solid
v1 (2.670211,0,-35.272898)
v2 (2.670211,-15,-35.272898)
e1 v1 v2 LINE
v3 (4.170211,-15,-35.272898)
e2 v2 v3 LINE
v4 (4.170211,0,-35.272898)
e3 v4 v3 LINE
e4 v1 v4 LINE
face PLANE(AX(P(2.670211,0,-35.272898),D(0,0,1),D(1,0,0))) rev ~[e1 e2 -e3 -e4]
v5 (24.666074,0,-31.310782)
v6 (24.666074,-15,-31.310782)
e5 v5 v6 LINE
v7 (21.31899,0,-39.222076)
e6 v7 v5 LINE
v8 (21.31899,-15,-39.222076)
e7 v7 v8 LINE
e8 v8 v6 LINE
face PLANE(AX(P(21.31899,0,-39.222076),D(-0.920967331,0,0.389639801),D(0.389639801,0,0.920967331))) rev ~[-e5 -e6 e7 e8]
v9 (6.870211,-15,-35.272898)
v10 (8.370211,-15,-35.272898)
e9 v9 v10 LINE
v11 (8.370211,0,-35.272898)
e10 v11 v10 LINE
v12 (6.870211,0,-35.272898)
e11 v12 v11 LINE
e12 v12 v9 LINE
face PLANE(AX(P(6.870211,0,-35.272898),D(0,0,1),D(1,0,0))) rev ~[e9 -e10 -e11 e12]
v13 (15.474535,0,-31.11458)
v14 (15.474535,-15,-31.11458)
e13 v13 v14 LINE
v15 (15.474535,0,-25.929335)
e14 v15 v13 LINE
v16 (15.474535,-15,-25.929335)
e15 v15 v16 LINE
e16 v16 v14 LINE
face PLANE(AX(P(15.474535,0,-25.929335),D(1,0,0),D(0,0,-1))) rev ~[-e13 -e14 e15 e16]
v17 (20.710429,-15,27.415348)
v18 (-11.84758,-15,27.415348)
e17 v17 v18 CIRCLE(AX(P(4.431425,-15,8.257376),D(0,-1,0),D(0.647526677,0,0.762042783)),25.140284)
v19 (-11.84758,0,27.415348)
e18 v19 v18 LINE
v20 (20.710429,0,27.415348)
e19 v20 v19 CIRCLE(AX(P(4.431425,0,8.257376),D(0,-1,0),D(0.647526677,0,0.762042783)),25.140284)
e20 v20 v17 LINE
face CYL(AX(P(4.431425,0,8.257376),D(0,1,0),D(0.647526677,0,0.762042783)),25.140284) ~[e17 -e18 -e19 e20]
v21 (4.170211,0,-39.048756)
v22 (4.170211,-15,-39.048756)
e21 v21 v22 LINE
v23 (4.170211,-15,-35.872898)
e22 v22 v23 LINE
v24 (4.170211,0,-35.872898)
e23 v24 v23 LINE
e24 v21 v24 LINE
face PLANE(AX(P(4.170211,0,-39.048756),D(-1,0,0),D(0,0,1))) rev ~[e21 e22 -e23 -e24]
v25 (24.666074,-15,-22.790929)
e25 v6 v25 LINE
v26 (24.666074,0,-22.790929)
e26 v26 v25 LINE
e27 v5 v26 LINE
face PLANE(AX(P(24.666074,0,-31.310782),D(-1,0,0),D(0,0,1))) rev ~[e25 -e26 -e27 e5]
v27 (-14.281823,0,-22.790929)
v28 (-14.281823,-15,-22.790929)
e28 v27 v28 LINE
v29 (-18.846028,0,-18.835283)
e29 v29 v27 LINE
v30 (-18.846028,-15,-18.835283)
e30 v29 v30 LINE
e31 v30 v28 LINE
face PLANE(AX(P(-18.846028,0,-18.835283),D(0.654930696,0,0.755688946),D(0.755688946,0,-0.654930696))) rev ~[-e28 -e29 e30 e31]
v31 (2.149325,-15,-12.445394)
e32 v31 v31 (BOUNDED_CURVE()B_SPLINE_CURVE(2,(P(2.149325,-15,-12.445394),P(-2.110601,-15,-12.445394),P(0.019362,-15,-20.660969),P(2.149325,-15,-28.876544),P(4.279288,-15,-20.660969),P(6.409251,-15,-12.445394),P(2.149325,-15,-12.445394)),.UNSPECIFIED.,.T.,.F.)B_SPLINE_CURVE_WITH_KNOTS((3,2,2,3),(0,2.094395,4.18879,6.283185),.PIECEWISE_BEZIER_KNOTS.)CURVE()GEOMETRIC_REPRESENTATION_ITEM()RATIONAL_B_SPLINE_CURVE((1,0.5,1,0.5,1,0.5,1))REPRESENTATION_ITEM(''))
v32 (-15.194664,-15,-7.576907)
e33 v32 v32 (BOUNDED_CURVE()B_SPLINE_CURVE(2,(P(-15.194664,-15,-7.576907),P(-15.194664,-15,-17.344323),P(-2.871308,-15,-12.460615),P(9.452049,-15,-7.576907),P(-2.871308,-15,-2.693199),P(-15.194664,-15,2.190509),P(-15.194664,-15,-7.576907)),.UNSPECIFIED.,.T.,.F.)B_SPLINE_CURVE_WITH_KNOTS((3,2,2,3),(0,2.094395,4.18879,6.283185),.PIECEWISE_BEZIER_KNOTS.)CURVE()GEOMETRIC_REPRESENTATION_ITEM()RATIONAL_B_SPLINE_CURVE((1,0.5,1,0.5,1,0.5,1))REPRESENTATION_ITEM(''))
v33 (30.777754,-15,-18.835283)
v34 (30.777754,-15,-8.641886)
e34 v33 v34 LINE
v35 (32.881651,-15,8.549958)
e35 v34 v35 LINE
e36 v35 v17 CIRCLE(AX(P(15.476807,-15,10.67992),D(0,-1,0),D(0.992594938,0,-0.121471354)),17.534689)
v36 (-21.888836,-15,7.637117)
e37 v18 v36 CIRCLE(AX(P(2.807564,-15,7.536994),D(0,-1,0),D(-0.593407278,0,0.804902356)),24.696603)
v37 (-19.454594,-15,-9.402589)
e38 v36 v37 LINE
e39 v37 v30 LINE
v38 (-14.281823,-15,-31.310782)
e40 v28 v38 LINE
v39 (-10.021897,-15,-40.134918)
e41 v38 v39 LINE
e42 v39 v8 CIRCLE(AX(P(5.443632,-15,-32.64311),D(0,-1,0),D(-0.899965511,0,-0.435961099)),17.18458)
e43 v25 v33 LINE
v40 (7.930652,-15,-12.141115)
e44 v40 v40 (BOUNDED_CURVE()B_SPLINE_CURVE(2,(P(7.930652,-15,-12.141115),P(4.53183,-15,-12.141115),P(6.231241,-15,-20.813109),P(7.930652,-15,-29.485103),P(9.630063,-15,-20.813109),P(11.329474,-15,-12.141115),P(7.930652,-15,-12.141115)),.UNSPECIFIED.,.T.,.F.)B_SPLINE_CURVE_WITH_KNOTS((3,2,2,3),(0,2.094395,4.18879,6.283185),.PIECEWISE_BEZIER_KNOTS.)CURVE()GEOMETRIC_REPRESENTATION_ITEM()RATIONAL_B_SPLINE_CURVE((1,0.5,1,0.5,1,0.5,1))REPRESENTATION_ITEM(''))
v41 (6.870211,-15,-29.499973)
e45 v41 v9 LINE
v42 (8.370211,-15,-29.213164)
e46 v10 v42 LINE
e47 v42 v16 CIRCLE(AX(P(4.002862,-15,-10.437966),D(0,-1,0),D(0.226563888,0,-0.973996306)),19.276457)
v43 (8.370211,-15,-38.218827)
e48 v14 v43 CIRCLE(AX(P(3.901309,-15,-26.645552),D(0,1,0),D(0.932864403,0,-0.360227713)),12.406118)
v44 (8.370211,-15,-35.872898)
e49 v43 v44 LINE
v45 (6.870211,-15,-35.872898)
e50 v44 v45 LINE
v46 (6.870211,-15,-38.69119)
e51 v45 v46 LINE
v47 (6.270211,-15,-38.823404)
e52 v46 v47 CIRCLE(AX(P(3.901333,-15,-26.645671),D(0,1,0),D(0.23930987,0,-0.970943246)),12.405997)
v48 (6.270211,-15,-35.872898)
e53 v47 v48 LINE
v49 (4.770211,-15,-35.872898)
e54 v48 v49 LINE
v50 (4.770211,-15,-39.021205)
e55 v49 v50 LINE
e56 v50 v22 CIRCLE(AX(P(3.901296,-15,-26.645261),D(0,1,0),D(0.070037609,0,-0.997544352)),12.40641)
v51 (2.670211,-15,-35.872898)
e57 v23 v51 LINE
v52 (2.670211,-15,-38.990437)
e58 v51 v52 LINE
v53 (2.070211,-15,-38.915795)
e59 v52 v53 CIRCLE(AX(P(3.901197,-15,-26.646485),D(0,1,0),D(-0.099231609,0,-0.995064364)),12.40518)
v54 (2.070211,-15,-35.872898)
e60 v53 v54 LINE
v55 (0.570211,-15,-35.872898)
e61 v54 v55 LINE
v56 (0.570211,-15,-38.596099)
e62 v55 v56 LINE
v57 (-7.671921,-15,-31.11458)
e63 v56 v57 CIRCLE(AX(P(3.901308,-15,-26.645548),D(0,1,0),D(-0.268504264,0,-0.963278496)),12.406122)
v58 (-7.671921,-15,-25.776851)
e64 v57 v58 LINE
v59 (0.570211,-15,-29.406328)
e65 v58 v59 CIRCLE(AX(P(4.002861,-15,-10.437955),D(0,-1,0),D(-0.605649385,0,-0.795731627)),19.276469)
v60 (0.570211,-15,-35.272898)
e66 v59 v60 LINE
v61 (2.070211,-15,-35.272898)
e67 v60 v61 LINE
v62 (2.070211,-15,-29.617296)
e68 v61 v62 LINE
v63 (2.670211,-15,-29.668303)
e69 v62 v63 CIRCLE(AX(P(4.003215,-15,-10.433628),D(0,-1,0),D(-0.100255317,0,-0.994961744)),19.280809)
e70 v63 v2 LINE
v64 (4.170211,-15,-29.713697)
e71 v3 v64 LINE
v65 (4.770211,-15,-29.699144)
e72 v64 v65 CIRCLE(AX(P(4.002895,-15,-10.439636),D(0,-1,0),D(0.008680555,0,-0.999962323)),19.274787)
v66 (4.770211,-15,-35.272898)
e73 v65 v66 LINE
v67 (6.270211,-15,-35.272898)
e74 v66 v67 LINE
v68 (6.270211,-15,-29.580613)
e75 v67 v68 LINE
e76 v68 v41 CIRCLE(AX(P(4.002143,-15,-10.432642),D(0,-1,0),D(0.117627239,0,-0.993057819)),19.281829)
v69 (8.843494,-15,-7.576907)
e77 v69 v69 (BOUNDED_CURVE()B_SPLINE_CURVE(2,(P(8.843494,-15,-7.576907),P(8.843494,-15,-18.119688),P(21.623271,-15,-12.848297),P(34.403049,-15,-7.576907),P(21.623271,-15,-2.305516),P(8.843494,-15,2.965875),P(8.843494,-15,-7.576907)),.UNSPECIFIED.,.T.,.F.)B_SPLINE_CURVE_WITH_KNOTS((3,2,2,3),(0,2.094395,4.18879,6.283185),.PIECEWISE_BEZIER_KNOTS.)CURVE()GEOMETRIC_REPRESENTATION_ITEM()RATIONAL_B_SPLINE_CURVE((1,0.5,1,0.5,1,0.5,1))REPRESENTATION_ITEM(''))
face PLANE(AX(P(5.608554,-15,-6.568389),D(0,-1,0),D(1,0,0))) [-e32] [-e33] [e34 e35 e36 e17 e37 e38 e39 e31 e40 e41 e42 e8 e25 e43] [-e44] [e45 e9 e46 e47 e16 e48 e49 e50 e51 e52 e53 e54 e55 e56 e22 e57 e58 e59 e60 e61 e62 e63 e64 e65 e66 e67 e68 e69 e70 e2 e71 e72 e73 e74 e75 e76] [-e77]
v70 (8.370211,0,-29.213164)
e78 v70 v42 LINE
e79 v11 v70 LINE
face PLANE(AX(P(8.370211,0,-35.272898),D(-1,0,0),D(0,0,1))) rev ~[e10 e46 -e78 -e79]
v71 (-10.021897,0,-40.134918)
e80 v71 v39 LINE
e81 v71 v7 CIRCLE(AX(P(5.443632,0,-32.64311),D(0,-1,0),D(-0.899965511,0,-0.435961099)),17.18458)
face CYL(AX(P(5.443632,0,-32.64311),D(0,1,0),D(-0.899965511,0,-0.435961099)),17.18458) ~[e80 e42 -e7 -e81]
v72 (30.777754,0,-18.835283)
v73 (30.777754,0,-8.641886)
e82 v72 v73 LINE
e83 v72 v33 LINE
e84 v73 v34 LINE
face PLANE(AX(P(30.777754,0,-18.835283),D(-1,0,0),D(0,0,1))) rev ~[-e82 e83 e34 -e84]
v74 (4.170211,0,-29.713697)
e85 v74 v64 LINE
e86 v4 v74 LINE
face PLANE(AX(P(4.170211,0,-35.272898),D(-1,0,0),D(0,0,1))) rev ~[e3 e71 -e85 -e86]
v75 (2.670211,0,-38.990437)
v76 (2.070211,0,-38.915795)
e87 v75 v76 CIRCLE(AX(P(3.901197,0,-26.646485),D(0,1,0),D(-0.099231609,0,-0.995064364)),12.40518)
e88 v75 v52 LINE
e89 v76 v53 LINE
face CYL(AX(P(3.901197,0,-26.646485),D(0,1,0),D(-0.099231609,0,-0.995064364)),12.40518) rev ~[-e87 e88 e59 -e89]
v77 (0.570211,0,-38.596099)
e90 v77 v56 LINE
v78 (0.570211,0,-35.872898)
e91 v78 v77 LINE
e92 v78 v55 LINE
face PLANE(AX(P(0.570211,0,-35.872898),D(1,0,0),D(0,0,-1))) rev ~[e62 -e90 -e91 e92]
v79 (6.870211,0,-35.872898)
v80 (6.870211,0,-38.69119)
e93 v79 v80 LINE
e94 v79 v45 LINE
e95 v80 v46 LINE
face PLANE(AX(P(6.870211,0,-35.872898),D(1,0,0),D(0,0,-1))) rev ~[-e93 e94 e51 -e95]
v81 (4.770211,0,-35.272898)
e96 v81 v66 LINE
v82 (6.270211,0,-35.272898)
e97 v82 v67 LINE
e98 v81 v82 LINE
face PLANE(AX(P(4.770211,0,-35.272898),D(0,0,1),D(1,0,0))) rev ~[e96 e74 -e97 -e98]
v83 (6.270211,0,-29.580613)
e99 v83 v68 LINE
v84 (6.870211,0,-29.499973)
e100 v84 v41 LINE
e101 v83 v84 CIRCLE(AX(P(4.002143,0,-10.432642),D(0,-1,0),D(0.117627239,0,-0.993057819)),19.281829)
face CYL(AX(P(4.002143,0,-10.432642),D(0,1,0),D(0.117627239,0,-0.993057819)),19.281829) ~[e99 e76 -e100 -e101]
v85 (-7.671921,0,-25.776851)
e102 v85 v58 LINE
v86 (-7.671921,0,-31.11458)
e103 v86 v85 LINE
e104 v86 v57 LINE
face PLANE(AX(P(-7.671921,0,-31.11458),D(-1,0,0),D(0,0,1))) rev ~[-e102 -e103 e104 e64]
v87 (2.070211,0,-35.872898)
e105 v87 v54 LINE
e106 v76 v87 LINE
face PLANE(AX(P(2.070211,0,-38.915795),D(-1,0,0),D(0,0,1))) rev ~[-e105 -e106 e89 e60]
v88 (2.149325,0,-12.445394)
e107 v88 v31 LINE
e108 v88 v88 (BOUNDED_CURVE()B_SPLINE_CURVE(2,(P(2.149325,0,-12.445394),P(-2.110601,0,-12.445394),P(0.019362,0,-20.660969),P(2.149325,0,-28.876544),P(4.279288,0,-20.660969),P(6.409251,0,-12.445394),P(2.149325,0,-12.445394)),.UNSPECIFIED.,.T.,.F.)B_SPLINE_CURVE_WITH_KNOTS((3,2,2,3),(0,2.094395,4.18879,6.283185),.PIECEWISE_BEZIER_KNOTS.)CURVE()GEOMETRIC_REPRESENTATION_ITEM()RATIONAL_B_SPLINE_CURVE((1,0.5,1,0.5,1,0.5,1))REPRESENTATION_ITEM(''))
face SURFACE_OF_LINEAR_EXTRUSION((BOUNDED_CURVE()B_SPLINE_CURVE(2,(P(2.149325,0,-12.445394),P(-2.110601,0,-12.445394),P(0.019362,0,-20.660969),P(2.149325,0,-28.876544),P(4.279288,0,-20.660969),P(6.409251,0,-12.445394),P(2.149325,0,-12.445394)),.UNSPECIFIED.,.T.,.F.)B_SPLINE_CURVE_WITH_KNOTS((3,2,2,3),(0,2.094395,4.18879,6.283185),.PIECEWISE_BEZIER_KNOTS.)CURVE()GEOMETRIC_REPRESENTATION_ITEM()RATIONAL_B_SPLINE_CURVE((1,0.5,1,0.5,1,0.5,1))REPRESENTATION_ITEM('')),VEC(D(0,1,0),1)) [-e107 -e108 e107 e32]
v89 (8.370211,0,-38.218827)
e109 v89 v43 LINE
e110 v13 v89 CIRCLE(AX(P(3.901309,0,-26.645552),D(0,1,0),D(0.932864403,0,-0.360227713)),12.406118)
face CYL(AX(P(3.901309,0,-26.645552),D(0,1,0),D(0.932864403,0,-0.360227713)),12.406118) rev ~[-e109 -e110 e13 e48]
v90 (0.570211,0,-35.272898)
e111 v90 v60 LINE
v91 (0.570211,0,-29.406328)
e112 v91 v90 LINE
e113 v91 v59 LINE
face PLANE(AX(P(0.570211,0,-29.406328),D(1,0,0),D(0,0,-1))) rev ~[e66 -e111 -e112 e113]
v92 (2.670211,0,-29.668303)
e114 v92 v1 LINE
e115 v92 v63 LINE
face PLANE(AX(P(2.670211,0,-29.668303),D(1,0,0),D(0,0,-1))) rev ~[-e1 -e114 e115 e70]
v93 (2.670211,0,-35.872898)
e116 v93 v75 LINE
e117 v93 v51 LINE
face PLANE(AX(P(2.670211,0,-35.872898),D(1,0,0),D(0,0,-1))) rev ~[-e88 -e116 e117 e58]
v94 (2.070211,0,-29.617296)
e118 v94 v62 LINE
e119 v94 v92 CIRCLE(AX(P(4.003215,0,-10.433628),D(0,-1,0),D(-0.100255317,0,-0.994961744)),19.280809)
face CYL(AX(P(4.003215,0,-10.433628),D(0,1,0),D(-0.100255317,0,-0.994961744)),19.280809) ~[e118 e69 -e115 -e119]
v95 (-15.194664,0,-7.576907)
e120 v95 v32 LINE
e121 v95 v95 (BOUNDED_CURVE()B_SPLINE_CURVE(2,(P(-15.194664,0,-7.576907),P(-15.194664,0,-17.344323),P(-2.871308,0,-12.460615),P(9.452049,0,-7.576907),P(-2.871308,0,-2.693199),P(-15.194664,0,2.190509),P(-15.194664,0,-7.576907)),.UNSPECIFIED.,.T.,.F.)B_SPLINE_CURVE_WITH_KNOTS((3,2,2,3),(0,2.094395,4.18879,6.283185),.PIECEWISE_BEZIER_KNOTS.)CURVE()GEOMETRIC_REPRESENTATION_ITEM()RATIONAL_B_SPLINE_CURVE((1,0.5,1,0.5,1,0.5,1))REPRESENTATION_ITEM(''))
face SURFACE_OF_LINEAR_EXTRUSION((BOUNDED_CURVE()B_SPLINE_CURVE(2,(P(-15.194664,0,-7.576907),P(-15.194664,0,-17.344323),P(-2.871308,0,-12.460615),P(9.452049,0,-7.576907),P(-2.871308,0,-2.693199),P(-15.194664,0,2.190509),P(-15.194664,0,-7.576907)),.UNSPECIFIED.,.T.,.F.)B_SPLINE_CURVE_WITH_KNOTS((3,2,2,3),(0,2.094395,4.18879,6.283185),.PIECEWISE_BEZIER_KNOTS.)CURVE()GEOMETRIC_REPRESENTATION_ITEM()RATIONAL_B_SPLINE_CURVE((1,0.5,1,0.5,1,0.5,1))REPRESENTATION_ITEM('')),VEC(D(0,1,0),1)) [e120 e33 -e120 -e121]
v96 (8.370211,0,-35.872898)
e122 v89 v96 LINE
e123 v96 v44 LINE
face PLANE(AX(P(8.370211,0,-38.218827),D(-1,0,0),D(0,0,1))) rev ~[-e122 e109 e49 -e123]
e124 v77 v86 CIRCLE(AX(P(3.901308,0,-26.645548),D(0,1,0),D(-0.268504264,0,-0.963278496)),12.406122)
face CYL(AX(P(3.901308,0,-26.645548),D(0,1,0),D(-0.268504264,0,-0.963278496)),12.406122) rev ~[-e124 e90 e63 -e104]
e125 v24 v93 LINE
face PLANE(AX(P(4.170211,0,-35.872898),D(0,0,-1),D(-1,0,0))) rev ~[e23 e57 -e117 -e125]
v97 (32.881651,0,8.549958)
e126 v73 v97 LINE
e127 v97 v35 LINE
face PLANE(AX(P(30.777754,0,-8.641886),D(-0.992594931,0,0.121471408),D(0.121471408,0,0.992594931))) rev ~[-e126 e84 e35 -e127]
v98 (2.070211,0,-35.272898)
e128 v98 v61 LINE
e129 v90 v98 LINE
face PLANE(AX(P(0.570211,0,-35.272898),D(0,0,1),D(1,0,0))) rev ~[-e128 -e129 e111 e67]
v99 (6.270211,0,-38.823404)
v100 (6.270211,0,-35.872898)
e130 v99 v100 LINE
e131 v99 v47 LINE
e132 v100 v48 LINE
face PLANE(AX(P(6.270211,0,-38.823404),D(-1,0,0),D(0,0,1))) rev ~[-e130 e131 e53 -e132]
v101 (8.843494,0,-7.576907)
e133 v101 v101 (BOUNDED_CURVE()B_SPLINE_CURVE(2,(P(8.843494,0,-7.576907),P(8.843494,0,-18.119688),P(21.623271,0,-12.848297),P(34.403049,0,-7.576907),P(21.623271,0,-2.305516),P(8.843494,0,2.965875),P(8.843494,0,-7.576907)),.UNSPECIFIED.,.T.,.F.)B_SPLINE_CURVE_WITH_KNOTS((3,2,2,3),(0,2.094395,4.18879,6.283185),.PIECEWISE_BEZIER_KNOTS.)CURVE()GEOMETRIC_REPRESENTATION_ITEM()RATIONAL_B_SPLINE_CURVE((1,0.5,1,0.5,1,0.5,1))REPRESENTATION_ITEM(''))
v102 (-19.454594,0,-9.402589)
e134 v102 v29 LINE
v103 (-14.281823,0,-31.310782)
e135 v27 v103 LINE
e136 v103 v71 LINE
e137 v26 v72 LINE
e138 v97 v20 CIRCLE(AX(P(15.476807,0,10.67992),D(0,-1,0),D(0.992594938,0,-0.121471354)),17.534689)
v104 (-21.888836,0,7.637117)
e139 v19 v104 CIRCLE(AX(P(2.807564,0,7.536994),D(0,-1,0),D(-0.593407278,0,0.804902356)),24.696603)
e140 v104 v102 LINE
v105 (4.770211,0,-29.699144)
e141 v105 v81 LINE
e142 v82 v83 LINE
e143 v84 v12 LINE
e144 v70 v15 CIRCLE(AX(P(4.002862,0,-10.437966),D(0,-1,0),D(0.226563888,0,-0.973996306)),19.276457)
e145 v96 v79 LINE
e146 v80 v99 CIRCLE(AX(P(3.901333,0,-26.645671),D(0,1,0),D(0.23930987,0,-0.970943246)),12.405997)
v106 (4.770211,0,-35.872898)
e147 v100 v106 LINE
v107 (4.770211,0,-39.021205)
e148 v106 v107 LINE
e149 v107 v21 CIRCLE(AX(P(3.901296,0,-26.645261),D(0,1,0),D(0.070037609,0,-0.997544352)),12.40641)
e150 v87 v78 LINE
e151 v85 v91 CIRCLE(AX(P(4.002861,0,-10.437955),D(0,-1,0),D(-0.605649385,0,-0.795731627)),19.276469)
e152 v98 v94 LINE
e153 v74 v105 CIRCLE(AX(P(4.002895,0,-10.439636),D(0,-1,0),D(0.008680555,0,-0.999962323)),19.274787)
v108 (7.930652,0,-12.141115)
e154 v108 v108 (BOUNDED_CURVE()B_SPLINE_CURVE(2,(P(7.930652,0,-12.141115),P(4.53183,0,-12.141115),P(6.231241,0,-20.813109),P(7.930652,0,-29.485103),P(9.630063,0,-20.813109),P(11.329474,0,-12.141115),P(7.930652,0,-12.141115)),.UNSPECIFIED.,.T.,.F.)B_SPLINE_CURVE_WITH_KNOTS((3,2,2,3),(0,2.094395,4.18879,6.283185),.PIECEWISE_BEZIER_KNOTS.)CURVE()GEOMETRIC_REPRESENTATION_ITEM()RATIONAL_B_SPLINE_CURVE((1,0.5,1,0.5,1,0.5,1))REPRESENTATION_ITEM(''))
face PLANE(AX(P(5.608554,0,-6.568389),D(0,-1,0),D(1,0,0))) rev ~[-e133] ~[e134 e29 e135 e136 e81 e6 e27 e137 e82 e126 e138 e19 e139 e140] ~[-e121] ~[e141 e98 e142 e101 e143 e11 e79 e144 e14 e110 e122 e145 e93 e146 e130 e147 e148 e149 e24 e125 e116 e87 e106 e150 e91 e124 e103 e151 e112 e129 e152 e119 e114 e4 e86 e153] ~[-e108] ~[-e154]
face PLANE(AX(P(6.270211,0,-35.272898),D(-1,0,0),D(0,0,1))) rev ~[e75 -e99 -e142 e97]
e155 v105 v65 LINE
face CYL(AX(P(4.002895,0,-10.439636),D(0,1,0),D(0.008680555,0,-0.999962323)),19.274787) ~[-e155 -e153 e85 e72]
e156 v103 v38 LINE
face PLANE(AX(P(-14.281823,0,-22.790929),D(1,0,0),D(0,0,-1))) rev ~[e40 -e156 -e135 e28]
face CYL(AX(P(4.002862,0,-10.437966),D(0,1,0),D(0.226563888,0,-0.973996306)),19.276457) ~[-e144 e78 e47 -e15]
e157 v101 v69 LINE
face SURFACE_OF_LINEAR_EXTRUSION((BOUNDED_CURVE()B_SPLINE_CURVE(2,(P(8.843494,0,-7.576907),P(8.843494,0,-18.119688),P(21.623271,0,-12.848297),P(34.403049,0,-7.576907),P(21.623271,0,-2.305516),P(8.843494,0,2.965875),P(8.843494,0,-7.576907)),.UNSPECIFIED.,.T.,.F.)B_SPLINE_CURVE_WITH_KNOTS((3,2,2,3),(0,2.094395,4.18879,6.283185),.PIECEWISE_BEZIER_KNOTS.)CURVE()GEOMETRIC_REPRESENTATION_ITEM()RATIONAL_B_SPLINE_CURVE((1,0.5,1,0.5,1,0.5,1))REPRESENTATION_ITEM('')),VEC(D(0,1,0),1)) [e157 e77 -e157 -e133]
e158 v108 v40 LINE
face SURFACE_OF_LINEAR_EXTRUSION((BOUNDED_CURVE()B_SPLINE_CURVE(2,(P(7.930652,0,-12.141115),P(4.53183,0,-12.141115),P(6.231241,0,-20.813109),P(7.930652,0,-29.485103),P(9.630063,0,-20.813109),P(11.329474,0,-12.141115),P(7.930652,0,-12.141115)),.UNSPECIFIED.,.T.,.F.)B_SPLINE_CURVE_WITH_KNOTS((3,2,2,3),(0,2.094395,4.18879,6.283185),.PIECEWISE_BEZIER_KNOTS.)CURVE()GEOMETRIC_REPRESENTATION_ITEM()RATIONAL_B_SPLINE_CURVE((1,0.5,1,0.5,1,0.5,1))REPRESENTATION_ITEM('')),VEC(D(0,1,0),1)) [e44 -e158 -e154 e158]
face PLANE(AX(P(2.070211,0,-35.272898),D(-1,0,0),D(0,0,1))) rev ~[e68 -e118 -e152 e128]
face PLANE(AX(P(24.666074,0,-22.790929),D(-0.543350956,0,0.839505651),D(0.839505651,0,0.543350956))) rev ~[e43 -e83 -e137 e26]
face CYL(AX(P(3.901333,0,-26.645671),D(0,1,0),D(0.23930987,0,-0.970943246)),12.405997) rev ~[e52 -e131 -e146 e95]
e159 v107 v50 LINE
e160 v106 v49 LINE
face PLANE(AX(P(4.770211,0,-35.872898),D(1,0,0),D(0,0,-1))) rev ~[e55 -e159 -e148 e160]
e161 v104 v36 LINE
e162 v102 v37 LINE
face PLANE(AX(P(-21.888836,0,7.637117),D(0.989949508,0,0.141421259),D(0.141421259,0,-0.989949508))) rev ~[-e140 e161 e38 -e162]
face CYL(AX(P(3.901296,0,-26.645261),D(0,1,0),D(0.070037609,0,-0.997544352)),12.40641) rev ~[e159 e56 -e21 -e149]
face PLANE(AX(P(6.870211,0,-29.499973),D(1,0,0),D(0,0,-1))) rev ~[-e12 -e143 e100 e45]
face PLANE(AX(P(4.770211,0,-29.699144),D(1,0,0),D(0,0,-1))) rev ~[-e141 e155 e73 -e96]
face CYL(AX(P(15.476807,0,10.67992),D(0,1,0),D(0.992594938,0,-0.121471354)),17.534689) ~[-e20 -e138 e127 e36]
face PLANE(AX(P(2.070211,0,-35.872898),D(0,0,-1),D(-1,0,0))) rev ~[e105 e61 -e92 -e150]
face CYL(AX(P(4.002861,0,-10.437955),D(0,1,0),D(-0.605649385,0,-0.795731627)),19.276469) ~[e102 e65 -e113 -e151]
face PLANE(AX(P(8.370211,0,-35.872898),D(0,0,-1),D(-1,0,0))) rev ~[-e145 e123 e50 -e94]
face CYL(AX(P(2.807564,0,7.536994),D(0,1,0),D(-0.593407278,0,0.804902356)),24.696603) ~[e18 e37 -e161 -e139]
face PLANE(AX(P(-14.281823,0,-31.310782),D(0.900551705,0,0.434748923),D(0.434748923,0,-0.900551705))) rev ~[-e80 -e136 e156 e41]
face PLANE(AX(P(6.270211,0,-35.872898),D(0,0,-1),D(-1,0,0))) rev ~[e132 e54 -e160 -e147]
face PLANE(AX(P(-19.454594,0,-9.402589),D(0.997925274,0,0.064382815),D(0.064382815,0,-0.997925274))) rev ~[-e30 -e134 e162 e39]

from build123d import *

# Parameters (mm, degrees)
F1_DEPTH = 15


with BuildPart() as f1:
    # F0 (on Front) → F1 (new body)
    with BuildSketch(Plane.XZ):
        with BuildLine():
            ThreePointArc((20.710429, 27.415348), (4.431425, 33.39766), (-11.84758, 27.415348))
            ThreePointArc((-11.84758, 27.415348), (-19.213576, 18.716958), (-21.888836, 7.637117))
            Line((-21.888836, 7.637117), (-19.454594, -9.402589))
            Line((-19.454594, -9.402589), (-18.846028, -18.835283))
            Line((-18.846028, -18.835283), (-14.281823, -22.790929))
            Line((-14.281823, -22.790929), (-14.281823, -31.310782))
            Line((-14.281823, -31.310782), (-10.021897, -40.134918))
            ThreePointArc((-10.021897, -40.134918), (5.943942, -49.820405), (21.31899, -39.222076))
            Line((21.31899, -39.222076), (24.666074, -31.310782))
            Line((24.666074, -31.310782), (24.666074, -22.790929))
            Line((24.666074, -22.790929), (30.777754, -18.835283))
            Line((30.777754, -18.835283), (30.777754, -8.641886))
            Line((30.777754, -8.641886), (32.881651, 8.549958))
            ThreePointArc((32.881651, 8.549958), (30.211147, 20.185948), (20.710429, 27.415348))
        make_face()
        with BuildLine():
            Line((-7.671921, -31.11458), (-7.671921, -25.776851))
            ThreePointArc((-7.671921, -25.776851), (-3.765788, -28.079677), (0.570211, -29.406328))
            ThreePointArc((0.570211, -29.406328), (1.318138, -29.526551), (2.070211, -29.617296))
            ThreePointArc((2.070211, -29.617296), (2.370012, -29.645142), (2.670211, -29.668303))
            ThreePointArc((2.670211, -29.668303), (3.419769, -29.705602), (4.170211, -29.713697))
            ThreePointArc((4.170211, -29.713697), (4.470267, -29.708756), (4.770211, -29.699144))
            ThreePointArc((4.770211, -29.699144), (5.521368, -29.65452), (6.270211, -29.580613))
            ThreePointArc((6.270211, -29.580613), (6.570527, -29.542648), (6.870211, -29.499973))
            ThreePointArc((6.870211, -29.499973), (7.623052, -29.371429), (8.370211, -29.213164))
            ThreePointArc((8.370211, -29.213164), (12.090787, -27.935602), (15.474535, -25.929335))
            Line((15.474535, -25.929335), (15.474535, -31.11458))
            ThreePointArc((15.474535, -31.11458), (12.673712, -35.41805), (8.370211, -38.218827))
            ThreePointArc((8.370211, -38.218827), (7.627703, -38.4788), (6.870211, -38.69119))
            ThreePointArc((6.870211, -38.69119), (6.571029, -38.761012), (6.270211, -38.823404))
            ThreePointArc((6.270211, -38.823404), (5.523229, -38.945192), (4.770211, -39.021205))
            ThreePointArc((4.770211, -39.021205), (4.470378, -39.038612), (4.170211, -39.048756))
            ThreePointArc((4.170211, -39.048756), (3.419328, -39.042305), (2.670211, -38.990437))
            ThreePointArc((2.670211, -38.990437), (2.369756, -38.956772), (2.070211, -38.915795))
            ThreePointArc((2.070211, -38.915795), (1.315266, -38.779149), (0.570211, -38.596099))
            ThreePointArc((0.570211, -38.596099), (-4.437038, -35.831617), (-7.671921, -31.11458))
        make_face(mode=Mode.SUBTRACT)
        with BuildLine():
            add(Edge.make_bspline(
                [(2.149325, -12.445394), (-2.110601, -12.445394), (0.019362, -20.660969), (2.149325, -28.876544), (4.279288, -20.660969), (6.409251, -12.445394), (2.149325, -12.445394)],
                knots=[0, 0, 0, 2.094395, 2.094395, 4.18879, 4.18879, 6.283185, 6.283185, 6.283185], degree=2, weights=[1, 0.5, 1, 0.5, 1, 0.5, 1]))
        make_face(mode=Mode.SUBTRACT)
        with BuildLine():
            add(Edge.make_bspline(
                [(7.930652, -12.141115), (4.53183, -12.141115), (6.231241, -20.813109), (7.930652, -29.485103), (9.630063, -20.813109), (11.329474, -12.141115), (7.930652, -12.141115)],
                knots=[0, 0, 0, 2.094395, 2.094395, 4.18879, 4.18879, 6.283185, 6.283185, 6.283185], degree=2, weights=[1, 0.5, 1, 0.5, 1, 0.5, 1]))
        make_face(mode=Mode.SUBTRACT)
        with BuildLine():
            add(Edge.make_bspline(
                [(-15.194664, -7.576907), (-15.194664, -17.344323), (-2.871308, -12.460615), (9.452049, -7.576907), (-2.871308, -2.693199), (-15.194664, 2.190509), (-15.194664, -7.576907)],
                knots=[0, 0, 0, 2.094395, 2.094395, 4.18879, 4.18879, 6.283185, 6.283185, 6.283185], degree=2, weights=[1, 0.5, 1, 0.5, 1, 0.5, 1]))
        make_face(mode=Mode.SUBTRACT)
        with BuildLine():
            add(Edge.make_bspline(
                [(8.843494, -7.576907), (8.843494, -18.119688), (21.623271, -12.848297), (34.403049, -7.576907), (21.623271, -2.305516), (8.843494, 2.965875), (8.843494, -7.576907)],
                knots=[0, 0, 0, 2.094395, 2.094395, 4.18879, 4.18879, 6.283185, 6.283185, 6.283185], degree=2, weights=[1, 0.5, 1, 0.5, 1, 0.5, 1]))
        make_face(mode=Mode.SUBTRACT)
        with BuildLine():
            ThreePointArc((2.070211, -29.617296), (1.318138, -29.526551), (0.570211, -29.406328))
            Line((0.570211, -29.406328), (0.570211, -35.272898))
            Line((0.570211, -35.272898), (2.070211, -35.272898))
            Line((2.070211, -35.272898), (2.070211, -29.617296))
        make_face()
        with BuildLine():
            ThreePointArc((4.170211, -29.713697), (3.419769, -29.705602), (2.670211, -29.668303))
            Line((2.670211, -29.668303), (2.670211, -35.272898))
            Line((2.670211, -35.272898), (4.170211, -35.272898))
            Line((4.170211, -35.272898), (4.170211, -29.713697))
        make_face()
        with BuildLine():
            ThreePointArc((6.270211, -29.580613), (5.521368, -29.65452), (4.770211, -29.699144))
            Line((4.770211, -29.699144), (4.770211, -35.272898))
            Line((4.770211, -35.272898), (6.270211, -35.272898))
            Line((6.270211, -35.272898), (6.270211, -29.580613))
        make_face()
        with BuildLine():
            ThreePointArc((8.370211, -29.213164), (7.623052, -29.371429), (6.870211, -29.499973))
            Line((6.870211, -29.499973), (6.870211, -35.272898))
            Line((6.870211, -35.272898), (8.370211, -35.272898))
            Line((8.370211, -35.272898), (8.370211, -29.213164))
        make_face()
        with BuildLine():
            Line((6.870211, -35.872898), (6.870211, -38.69119))
            ThreePointArc((6.870211, -38.69119), (7.627703, -38.4788), (8.370211, -38.218827))
            Line((8.370211, -38.218827), (8.370211, -35.872898))
            Line((8.370211, -35.872898), (6.870211, -35.872898))
        make_face()
        with BuildLine():
            Line((4.770211, -35.872898), (4.770211, -39.021205))
            ThreePointArc((4.770211, -39.021205), (5.523229, -38.945192), (6.270211, -38.823404))
            Line((6.270211, -38.823404), (6.270211, -35.872898))
            Line((6.270211, -35.872898), (4.770211, -35.872898))
        make_face()
        with BuildLine():
            Line((2.670211, -35.872898), (2.670211, -38.990437))
            ThreePointArc((2.670211, -38.990437), (3.419328, -39.042305), (4.170211, -39.048756))
            Line((4.170211, -39.048756), (4.170211, -35.872898))
            Line((4.170211, -35.872898), (2.670211, -35.872898))
        make_face()
        with BuildLine():
            Line((0.570211, -35.872898), (0.570211, -38.596099))
            ThreePointArc((0.570211, -38.596099), (1.315266, -38.779149), (2.070211, -38.915795))
            Line((2.070211, -38.915795), (2.070211, -35.872898))
            Line((2.070211, -35.872898), (0.570211, -35.872898))
        make_face()
    extrude(amount=F1_DEPTH)


solid = f1.part
